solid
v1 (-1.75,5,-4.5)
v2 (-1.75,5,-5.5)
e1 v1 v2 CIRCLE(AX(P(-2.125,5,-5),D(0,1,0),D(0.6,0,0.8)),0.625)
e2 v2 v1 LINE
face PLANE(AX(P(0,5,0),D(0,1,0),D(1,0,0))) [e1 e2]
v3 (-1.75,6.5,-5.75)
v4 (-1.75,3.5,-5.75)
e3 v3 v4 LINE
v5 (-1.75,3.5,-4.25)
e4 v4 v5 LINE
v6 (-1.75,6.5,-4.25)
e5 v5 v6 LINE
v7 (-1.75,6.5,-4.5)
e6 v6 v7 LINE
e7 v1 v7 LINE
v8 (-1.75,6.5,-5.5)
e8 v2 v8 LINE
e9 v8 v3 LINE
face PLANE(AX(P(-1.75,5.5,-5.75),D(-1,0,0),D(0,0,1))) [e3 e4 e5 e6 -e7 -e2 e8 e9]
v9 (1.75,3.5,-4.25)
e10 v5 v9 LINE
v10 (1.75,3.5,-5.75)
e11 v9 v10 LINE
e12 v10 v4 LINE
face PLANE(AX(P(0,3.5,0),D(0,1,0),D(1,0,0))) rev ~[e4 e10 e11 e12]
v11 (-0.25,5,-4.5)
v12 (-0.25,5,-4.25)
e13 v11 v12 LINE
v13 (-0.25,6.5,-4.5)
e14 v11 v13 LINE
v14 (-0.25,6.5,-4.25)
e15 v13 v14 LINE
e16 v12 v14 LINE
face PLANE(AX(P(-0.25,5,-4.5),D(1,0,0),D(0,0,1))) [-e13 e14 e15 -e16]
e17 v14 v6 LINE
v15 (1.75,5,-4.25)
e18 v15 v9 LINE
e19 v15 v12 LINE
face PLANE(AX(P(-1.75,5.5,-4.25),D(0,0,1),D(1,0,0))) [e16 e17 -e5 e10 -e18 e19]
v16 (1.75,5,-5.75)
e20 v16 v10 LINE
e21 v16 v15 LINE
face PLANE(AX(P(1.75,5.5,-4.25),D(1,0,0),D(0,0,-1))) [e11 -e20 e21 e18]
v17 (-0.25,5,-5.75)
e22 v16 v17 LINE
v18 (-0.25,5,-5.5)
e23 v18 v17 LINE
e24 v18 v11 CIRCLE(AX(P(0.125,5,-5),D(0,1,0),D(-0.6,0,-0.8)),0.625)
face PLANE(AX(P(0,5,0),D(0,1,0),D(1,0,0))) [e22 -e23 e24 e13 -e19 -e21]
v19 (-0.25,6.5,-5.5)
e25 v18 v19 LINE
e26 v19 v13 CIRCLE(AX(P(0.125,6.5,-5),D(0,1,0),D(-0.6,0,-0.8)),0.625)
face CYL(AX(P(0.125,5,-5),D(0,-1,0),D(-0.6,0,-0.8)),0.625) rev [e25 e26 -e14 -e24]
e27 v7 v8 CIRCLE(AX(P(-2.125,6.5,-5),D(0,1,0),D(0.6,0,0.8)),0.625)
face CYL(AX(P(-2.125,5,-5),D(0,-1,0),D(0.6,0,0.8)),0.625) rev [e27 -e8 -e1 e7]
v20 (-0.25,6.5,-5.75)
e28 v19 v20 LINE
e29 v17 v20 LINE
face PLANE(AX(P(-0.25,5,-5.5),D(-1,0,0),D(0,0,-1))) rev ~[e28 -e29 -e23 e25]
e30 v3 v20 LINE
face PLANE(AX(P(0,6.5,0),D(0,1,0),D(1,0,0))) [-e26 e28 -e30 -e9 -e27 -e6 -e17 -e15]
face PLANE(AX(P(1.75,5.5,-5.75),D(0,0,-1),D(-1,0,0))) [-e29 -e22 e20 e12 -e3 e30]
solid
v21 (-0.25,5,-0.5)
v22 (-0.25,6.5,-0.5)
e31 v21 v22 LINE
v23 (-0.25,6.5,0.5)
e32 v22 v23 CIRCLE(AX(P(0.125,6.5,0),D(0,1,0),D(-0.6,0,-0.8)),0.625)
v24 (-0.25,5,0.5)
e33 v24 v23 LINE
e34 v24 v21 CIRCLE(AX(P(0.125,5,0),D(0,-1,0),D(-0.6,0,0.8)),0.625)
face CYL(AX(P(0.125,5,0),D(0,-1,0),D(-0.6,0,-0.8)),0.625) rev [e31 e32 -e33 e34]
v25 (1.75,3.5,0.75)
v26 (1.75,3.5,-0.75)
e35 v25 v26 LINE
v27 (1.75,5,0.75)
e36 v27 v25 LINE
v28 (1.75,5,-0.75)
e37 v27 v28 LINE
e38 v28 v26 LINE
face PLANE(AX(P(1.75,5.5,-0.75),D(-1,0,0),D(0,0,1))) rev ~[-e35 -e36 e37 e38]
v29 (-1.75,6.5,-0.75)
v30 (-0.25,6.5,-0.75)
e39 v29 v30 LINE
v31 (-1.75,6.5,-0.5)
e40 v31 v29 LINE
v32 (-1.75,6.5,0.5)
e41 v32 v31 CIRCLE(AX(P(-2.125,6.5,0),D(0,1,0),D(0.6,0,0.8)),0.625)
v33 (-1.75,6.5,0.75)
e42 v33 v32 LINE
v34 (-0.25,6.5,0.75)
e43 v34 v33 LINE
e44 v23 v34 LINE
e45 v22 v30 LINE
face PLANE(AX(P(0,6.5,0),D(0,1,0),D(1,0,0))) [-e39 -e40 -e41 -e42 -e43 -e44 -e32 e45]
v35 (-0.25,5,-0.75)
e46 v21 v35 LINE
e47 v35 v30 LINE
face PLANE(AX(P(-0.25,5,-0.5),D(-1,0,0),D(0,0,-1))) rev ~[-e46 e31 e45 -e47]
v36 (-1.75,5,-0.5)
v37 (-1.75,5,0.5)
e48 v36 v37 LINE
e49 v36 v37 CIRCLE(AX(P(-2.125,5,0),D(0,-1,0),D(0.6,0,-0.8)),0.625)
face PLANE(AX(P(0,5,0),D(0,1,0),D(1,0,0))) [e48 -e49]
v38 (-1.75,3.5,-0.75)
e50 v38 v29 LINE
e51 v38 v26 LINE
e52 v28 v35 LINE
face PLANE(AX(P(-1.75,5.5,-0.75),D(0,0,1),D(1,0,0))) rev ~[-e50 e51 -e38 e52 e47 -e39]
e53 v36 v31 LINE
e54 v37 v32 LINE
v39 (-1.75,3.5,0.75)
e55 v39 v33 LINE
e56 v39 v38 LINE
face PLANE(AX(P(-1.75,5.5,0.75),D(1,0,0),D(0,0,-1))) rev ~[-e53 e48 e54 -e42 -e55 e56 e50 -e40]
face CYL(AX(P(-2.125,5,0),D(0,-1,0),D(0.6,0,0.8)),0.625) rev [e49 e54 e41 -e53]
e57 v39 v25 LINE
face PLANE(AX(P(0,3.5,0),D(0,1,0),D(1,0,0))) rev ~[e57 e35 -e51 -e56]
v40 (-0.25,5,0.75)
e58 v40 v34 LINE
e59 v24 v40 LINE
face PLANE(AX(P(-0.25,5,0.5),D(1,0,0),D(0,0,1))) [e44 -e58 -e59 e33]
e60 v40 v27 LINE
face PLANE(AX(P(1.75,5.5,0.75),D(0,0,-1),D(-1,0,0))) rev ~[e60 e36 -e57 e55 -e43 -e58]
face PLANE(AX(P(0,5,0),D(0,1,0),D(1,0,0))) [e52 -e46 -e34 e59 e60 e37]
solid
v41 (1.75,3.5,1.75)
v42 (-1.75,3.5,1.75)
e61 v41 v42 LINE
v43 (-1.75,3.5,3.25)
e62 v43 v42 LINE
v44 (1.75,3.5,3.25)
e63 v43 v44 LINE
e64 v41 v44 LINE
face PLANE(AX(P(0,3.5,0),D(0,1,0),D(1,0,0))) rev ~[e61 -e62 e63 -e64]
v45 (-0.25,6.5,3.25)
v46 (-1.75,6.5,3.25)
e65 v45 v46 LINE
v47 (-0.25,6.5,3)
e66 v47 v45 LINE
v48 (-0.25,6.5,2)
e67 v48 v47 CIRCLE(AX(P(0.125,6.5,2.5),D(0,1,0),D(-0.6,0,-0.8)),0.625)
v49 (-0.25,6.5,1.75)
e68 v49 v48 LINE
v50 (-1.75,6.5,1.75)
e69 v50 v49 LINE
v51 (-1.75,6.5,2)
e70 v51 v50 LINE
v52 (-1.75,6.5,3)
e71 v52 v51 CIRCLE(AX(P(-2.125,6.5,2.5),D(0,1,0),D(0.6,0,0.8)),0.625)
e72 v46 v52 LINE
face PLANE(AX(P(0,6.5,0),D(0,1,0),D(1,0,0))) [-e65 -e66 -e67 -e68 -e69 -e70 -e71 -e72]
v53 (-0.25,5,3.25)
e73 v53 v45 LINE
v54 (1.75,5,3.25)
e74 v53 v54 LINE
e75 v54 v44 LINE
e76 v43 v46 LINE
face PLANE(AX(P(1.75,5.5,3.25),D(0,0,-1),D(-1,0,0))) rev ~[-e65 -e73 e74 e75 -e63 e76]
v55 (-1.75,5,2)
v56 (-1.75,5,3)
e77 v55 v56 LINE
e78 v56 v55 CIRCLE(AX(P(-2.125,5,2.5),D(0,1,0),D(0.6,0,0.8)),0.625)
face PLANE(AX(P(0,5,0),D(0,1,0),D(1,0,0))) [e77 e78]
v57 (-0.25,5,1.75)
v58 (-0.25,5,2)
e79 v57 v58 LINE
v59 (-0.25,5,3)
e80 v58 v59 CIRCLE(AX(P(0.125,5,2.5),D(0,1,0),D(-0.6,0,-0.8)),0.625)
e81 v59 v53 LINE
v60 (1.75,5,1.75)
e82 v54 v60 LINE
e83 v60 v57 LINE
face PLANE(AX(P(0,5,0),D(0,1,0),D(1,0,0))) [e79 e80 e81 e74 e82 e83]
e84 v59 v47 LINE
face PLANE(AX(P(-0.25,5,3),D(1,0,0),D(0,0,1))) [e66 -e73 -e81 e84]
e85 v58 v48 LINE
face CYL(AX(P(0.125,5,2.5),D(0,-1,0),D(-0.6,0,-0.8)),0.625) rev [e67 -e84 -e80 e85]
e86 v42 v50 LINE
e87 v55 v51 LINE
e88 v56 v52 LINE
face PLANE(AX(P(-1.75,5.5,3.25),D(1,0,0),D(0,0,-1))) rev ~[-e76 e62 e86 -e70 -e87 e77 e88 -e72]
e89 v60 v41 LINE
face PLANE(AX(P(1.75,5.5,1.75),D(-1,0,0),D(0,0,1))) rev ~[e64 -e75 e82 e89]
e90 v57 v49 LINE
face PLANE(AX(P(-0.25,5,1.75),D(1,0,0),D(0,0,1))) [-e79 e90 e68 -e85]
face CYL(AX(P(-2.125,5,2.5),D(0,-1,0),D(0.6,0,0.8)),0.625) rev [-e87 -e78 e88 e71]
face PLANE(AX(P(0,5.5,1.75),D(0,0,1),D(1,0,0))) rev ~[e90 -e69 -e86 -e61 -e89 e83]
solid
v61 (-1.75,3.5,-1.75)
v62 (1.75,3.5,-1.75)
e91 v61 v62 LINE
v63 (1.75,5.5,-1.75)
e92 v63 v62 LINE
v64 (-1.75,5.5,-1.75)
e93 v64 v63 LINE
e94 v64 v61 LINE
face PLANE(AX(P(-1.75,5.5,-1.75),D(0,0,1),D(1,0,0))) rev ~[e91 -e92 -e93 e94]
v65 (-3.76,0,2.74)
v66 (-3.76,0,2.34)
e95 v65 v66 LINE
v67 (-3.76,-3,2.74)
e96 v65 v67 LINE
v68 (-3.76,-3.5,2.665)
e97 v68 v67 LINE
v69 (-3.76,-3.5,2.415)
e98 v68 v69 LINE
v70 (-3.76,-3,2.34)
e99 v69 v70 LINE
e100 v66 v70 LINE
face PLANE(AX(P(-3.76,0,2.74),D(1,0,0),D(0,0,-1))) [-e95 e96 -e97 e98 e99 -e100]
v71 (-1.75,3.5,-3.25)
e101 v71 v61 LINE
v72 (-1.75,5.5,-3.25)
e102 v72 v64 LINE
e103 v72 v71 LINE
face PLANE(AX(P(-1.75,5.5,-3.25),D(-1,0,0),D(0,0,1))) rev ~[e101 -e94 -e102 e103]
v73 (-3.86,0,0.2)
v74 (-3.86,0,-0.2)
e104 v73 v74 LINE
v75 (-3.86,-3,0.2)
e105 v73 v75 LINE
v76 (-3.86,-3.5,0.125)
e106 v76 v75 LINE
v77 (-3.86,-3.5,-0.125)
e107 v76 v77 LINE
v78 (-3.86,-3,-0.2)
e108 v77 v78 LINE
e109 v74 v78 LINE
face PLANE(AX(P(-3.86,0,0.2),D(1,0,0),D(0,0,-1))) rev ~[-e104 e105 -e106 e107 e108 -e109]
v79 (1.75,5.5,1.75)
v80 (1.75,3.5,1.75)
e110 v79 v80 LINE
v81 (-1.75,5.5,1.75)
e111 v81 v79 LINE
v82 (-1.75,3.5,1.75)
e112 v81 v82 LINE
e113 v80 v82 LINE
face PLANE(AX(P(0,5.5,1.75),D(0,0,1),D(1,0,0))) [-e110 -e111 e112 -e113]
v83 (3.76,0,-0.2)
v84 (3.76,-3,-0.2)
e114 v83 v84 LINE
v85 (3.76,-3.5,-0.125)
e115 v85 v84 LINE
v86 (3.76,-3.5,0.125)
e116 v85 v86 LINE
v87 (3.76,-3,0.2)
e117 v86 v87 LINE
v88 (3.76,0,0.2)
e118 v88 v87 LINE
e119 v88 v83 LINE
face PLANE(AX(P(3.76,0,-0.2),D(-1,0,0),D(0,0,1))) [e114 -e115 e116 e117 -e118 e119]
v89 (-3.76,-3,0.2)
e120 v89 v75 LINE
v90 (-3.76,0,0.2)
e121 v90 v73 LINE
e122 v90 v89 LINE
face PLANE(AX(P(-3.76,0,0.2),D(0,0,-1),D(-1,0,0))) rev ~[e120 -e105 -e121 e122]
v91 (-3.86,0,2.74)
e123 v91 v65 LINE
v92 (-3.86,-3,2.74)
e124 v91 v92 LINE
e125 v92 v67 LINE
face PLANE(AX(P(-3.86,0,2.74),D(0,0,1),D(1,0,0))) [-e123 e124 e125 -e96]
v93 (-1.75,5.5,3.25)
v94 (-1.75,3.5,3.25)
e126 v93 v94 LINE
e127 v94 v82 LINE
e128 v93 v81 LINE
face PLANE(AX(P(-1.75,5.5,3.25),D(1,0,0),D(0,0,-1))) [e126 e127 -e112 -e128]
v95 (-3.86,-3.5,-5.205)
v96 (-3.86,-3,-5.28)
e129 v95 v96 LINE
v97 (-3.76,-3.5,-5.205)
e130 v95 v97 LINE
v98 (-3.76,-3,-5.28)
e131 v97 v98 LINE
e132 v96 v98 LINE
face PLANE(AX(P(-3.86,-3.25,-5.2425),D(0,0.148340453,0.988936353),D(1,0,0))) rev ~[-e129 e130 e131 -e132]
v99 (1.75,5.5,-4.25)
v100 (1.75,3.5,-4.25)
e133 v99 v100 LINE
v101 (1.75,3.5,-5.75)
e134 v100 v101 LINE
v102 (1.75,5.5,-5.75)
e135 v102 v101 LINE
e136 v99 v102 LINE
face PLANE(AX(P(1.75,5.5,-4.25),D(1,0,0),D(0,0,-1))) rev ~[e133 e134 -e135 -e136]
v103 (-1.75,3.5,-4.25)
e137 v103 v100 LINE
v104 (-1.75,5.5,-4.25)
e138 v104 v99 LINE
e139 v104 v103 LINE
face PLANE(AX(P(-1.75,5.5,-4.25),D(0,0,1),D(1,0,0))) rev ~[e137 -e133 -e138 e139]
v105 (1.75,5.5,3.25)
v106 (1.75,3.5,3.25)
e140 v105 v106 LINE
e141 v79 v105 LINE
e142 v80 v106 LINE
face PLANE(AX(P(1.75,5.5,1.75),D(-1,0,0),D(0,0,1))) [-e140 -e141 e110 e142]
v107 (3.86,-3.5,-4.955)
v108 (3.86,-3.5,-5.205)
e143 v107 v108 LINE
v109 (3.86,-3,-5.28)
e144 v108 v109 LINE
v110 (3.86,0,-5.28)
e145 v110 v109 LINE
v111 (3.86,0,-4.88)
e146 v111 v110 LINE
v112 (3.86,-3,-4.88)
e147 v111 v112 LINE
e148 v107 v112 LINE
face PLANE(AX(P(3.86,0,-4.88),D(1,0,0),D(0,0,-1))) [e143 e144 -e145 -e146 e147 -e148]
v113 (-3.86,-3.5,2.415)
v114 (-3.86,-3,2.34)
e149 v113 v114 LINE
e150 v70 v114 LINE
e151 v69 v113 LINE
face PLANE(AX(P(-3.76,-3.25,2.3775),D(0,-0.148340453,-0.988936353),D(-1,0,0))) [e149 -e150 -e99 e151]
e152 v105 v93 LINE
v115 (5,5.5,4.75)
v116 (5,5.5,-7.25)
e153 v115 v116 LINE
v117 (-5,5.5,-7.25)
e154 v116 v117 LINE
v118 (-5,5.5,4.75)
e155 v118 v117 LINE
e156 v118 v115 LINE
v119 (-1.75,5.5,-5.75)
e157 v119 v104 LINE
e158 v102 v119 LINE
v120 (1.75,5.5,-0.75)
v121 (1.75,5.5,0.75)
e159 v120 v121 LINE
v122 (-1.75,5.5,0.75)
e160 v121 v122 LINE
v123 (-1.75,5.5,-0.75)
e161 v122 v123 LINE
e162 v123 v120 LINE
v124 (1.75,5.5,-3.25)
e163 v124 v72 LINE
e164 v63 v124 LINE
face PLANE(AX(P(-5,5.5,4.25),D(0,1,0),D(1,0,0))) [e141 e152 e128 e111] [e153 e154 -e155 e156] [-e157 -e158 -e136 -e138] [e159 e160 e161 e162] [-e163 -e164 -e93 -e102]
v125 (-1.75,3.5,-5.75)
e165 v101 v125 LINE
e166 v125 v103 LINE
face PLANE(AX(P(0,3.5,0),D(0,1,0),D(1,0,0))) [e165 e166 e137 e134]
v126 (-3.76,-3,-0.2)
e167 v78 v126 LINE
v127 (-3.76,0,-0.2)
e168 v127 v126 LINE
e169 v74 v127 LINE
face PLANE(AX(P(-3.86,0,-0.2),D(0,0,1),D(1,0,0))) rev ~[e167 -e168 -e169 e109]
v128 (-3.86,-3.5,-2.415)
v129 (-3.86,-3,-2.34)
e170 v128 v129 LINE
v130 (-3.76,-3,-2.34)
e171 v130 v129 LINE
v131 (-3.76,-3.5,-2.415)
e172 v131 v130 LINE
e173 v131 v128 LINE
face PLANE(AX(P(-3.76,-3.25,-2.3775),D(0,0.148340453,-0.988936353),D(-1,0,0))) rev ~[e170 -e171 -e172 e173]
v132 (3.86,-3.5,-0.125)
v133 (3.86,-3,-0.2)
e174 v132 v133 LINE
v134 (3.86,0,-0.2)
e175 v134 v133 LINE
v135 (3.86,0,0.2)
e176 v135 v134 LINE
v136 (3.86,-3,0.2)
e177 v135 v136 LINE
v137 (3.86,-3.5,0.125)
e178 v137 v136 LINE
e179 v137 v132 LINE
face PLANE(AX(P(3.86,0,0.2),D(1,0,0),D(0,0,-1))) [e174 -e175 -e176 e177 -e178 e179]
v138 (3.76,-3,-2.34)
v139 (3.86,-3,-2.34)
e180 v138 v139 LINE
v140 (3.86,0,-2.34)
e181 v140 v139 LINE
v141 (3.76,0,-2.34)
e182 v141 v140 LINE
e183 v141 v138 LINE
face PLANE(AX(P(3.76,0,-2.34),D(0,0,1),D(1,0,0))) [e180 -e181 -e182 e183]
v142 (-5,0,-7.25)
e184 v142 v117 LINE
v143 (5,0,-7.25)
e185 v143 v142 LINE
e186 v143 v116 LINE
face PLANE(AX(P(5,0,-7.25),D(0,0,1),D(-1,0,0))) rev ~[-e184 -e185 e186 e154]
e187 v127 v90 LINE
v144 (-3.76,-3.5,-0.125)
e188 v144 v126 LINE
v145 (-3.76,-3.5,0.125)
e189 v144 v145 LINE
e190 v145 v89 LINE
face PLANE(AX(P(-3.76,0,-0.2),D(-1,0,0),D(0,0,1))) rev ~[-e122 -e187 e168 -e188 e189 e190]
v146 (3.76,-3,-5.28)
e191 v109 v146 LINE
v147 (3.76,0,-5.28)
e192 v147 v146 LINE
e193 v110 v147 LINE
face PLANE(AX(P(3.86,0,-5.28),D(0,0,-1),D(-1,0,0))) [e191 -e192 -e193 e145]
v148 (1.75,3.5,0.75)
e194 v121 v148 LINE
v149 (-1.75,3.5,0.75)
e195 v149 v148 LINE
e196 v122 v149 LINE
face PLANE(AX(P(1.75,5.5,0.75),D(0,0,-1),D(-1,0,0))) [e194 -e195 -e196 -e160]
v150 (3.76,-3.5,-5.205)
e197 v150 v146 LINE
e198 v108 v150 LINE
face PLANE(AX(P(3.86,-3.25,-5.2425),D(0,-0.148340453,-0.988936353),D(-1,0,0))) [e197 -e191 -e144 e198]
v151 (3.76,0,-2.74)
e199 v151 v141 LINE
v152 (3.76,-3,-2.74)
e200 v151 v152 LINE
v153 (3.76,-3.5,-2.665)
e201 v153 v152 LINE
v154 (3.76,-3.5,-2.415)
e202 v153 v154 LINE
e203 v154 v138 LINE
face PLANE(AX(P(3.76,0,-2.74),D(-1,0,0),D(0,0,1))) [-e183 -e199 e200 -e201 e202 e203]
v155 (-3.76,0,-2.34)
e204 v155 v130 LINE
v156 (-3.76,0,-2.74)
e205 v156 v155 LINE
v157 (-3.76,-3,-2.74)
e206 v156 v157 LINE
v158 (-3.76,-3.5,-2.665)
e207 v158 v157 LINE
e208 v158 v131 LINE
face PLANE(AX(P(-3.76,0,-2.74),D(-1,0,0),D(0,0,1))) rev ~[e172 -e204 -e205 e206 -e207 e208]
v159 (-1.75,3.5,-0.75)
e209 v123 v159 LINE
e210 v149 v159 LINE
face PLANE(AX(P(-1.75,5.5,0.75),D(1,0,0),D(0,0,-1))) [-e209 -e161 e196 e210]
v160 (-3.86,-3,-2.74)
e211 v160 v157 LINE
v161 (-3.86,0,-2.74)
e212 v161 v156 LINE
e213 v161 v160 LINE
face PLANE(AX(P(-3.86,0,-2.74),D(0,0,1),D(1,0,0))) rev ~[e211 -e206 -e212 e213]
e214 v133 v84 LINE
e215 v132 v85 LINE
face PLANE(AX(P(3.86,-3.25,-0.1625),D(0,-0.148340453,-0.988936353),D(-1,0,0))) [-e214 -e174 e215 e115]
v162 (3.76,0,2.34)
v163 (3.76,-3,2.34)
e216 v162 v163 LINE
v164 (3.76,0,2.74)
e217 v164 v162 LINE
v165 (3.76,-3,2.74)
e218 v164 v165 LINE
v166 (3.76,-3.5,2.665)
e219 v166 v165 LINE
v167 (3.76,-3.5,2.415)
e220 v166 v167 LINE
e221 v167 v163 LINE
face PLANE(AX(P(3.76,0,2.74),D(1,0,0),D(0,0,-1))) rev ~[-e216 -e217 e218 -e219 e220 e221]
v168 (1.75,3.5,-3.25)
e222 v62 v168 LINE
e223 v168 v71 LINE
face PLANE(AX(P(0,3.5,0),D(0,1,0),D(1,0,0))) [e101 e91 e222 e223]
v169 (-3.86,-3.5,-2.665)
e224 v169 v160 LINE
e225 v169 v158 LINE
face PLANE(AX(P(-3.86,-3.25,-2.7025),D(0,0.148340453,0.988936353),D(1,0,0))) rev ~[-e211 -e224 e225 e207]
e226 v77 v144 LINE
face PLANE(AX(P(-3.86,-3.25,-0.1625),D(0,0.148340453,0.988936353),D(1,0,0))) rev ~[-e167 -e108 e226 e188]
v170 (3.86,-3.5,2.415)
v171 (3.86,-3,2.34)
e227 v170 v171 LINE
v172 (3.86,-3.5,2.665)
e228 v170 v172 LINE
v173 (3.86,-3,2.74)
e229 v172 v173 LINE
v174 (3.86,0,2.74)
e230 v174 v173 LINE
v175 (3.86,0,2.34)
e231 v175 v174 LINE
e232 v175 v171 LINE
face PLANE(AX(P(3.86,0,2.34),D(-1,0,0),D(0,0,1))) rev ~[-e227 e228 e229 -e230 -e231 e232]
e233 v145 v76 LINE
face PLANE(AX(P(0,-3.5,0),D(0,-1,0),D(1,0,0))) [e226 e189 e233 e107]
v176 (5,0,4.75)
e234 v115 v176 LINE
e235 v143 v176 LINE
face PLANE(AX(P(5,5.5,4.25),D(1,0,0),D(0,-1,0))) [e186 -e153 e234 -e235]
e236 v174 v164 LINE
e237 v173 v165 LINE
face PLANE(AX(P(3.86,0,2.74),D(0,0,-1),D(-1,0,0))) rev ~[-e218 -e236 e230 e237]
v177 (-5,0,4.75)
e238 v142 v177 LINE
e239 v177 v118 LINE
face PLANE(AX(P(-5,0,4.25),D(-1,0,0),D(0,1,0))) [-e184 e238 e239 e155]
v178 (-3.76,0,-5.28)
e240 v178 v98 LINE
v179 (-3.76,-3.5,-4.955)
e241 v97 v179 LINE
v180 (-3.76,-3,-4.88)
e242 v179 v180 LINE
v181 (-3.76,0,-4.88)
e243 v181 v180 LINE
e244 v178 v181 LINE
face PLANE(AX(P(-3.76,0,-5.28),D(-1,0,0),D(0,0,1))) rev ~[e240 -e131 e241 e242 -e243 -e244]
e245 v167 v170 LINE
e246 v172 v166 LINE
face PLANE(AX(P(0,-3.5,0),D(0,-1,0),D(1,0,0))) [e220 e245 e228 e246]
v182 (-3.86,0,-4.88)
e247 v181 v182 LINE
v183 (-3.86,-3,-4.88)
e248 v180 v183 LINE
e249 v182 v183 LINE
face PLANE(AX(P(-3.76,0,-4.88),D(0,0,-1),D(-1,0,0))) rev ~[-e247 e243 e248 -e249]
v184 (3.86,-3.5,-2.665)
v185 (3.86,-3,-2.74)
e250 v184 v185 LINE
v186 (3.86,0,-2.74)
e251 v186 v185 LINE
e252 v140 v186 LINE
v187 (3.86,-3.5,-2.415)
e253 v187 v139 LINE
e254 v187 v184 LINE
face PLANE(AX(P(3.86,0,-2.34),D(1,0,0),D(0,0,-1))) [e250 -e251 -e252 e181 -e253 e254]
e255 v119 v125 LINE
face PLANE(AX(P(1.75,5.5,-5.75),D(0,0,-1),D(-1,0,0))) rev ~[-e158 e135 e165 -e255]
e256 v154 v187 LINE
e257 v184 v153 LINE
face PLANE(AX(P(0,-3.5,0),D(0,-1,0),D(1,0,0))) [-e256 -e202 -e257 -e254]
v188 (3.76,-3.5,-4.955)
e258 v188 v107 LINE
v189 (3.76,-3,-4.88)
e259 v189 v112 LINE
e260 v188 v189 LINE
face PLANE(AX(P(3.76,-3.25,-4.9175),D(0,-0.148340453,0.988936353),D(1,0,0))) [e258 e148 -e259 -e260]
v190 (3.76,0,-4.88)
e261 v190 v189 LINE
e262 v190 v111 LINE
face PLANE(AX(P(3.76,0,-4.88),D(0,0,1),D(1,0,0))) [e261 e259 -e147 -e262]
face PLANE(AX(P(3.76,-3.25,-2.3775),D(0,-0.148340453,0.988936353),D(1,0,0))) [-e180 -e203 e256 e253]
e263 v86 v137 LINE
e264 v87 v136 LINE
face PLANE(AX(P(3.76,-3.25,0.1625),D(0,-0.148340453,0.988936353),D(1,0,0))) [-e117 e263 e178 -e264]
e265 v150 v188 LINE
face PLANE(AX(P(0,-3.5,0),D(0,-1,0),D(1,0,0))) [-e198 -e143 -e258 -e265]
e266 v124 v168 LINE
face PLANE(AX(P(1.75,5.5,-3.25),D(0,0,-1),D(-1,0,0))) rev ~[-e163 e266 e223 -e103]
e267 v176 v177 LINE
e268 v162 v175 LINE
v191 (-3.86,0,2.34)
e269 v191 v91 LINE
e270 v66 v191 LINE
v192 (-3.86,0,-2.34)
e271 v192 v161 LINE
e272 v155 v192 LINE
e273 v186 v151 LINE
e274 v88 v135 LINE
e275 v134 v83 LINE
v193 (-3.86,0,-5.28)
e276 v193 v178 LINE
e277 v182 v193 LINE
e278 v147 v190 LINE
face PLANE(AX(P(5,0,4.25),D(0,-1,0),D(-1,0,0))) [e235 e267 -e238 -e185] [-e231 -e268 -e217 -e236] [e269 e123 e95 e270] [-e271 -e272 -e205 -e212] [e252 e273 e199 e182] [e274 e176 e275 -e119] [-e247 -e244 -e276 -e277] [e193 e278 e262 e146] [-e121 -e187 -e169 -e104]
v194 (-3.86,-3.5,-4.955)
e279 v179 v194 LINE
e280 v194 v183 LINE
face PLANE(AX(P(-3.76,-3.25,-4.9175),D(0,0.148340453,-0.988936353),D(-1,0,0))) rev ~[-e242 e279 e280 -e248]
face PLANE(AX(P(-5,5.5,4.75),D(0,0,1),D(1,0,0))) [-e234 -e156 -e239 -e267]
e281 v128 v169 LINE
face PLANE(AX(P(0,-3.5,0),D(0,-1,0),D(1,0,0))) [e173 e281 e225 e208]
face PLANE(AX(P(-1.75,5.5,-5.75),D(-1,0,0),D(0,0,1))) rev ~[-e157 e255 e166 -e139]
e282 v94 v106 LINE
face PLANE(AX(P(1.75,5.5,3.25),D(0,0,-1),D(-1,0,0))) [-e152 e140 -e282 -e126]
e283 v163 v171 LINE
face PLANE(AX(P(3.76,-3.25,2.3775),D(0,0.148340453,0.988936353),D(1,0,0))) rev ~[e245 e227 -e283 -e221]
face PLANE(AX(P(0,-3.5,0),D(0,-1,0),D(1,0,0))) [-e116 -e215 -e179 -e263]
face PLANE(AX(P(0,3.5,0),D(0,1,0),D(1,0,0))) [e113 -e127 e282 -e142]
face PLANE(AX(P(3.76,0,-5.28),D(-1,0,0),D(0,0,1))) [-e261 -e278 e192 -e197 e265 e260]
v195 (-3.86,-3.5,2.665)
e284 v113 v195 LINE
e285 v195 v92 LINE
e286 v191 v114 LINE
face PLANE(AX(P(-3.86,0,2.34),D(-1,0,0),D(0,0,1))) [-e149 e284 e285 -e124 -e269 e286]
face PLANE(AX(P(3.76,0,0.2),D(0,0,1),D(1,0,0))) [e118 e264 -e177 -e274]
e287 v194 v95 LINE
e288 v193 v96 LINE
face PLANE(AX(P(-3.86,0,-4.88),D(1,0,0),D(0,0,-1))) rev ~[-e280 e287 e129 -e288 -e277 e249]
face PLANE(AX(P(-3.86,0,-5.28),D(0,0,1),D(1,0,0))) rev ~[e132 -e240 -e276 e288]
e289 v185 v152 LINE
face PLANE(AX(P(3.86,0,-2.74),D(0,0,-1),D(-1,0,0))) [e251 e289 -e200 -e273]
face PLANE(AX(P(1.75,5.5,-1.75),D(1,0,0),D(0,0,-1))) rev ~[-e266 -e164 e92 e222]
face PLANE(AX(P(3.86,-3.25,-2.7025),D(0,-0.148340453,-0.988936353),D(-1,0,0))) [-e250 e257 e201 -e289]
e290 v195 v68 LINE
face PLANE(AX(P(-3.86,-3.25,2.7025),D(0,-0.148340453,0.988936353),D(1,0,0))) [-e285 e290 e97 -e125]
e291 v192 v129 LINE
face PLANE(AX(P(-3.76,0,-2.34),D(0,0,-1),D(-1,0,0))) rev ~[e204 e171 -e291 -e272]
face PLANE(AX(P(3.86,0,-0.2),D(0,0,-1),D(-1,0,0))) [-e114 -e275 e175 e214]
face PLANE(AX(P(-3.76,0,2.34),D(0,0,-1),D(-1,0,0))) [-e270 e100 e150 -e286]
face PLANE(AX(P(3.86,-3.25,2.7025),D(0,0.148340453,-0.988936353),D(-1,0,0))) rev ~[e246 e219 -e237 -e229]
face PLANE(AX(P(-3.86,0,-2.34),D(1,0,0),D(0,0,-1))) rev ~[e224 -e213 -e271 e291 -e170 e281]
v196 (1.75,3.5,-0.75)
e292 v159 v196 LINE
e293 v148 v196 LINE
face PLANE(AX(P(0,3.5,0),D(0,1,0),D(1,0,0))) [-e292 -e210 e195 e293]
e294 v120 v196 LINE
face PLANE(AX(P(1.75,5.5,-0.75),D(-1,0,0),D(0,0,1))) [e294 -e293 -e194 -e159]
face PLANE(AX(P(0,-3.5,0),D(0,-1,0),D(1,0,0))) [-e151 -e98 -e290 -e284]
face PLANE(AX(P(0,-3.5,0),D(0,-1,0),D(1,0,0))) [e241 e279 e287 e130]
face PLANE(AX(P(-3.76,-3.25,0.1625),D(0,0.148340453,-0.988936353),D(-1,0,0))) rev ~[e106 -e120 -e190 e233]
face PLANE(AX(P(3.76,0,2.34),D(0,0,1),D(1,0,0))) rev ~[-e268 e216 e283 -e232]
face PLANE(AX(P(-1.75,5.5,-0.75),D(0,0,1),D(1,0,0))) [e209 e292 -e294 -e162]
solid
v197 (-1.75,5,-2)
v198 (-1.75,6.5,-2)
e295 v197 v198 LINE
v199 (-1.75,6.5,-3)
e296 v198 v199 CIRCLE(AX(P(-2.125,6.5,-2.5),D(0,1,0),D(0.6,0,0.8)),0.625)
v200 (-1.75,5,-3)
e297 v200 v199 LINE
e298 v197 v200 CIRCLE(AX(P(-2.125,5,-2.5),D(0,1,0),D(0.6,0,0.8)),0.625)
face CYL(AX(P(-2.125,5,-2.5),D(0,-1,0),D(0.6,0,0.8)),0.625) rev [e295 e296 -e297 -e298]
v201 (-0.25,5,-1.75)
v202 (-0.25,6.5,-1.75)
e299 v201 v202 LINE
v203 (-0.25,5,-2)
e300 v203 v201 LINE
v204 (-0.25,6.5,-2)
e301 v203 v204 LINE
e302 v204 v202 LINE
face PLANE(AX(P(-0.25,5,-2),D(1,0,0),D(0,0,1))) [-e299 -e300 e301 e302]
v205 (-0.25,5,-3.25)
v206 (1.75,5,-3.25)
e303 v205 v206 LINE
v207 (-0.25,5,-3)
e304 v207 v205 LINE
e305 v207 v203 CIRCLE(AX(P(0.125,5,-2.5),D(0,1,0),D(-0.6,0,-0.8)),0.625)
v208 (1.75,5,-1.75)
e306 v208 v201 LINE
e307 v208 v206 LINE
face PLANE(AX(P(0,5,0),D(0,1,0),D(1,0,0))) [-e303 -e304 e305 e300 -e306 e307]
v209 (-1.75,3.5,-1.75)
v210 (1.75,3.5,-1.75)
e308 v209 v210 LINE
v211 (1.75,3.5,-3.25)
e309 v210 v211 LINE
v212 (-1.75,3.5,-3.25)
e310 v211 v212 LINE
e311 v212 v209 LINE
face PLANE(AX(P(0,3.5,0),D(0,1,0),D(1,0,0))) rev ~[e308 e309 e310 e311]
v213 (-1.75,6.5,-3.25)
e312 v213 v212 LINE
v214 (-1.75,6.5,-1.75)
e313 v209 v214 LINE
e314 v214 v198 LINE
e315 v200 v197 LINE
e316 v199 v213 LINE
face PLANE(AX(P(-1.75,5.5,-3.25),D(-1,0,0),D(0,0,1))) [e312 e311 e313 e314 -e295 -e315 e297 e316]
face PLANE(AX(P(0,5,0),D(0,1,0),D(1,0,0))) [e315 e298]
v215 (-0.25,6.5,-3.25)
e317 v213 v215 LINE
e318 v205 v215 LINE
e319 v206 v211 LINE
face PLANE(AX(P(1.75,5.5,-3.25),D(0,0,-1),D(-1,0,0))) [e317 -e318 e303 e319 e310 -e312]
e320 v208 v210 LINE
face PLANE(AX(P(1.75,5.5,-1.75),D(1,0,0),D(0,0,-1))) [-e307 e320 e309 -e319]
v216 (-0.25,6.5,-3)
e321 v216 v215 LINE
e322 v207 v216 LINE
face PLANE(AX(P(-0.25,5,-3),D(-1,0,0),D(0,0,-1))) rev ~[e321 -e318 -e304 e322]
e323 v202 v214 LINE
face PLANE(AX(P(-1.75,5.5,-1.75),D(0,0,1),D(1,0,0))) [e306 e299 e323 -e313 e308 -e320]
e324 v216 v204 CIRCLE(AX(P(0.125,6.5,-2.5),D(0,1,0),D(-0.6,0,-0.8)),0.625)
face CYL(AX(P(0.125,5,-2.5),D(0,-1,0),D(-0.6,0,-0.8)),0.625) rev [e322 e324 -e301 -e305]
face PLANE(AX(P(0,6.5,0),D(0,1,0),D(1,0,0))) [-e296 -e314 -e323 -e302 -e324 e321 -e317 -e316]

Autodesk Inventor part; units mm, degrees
ref_plane "YZ Plane" through (0, 0, 0) normal (1, 0, 0) x (0, 1, 0)
ref_plane "XZ Plane" through (0, 0, 0) normal (0, 1, 0) x (-1, 0, 0)
ref_plane "XY Plane" through (0, 0, 0) normal (0, 0, 1) x (1, 0, 0)
sketch "Sketch1" plane through (0, 0, 0) normal (0, 1, 0) x (-1, 0, 0)
  line L0 (5, 7.25) -> (-5, 7.25)
  line L1 (-5, 7.25) -> (-5, -7.25)
  line L2 (-5, -7.25) -> (5, -7.25)
  line L3 (5, -7.25) -> (5, 7.25)
  line L4 (5, 7.25) -> (-5, -7.25) construction
  line L5 (-5, 7.25) -> (5, -7.25) construction
  point P0 (0, 0)
  dimension "d0" = 10
  dimension "d1" = 14.5
extrude "Extrusion1" add sketch "Sketch1" along normal blind 5.5
sketch "Sketch2" plane through (0, 5.5, 0) normal (0, 1, 0) x (1, 0, 0)
  line L0 (-1.75, 0.75) -> (1.75, 0.75)
  line L1 (1.75, 0.75) -> (1.75, -0.75)
  line L2 (1.75, -0.75) -> (-1.75, -0.75)
  line L3 (-1.75, -0.75) -> (-1.75, 0.75)
  line L4 (-1.75, 0.75) -> (1.75, -0.75) construction
  line L5 (1.75, 0.75) -> (-1.75, -0.75) construction
  line L6 (0, -0.75) -> (0, -1.75)
  line L7 (0, -1.75) -> (0, -2.5)
  line L8 (-1.75, -1.75) -> (1.75, -1.75)
  line L9 (1.75, -1.75) -> (1.75, -3.25)
  line L10 (1.75, -3.25) -> (-1.75, -3.25)
  line L11 (-1.75, -3.25) -> (-1.75, -1.75)
  line L12 (-1.75, -1.75) -> (1.75, -3.25) construction
  line L13 (1.75, -1.75) -> (-1.75, -3.25) construction
  line L14 (0, -3.25) -> (0, -5)
  line L15 (-1.75, -4.25) -> (1.75, -4.25)
  line L16 (1.75, -4.25) -> (1.75, -5.75)
  line L17 (1.75, -5.75) -> (-1.75, -5.75)
  line L18 (-1.75, -5.75) -> (-1.75, -4.25)
  line L19 (-1.75, -4.25) -> (1.75, -5.75) construction
  line L20 (1.75, -4.25) -> (-1.75, -5.75) construction
  line L21 (0, 0) -> (3.2691, 0)
  line L22 (-1.75, 1.75) -> (1.75, 1.75)
  line L23 (1.75, 1.75) -> (1.75, 3.25)
  line L24 (1.75, 3.25) -> (-1.75, 3.25)
  line L25 (-1.75, 3.25) -> (-1.75, 1.75)
  line L26 (-1.75, 4.25) -> (1.75, 4.25)
  line L27 (1.75, 4.25) -> (1.75, 5.75)
  line L28 (1.75, 5.75) -> (-1.75, 5.75)
  line L29 (-1.75, 5.75) -> (-1.75, 4.25)
  dimension "d4" = 3.5
  dimension "d5" = 1.5
  dimension "d6" = 1
  dimension "d7" = 0.75
  dimension "d8" = 3.5
  dimension "d9" = 1.5
  dimension "d10" = 1.75
  dimension "d11" = 3.5
  dimension "d12" = 1.5
extrude "Extrusion2" cut sketch "Sketch2" against normal blind 2
extrude "Extrusion3" add sketch "Sketch2" against normal blind 2 separate body
sketch "Sketch3" plane through (0, 5.5, 0) normal (0, 1, 0) x (1, 0, 0)
  line L0 (1.75, 5.75) -> (1.75, 4.25) projected
  line L1 (1.75, -5.75) -> (-1.75, -5.75) projected
  line L2 (1.75, 5.75) -> (-1.75, 5.75)
  line L3 (-1.75, 5.75) -> (-1.75, -5.75)
  line L4 (-1.75, -5.75) -> (1.75, -5.75)
  line L5 (1.75, -5.75) -> (1.75, 5.75)
  point P0 (0, 0)
extrude "Extrusion4" cut sketch "Sketch3" against normal blind 0.5 bodies 2
sketch "Sketch4" plane through (0, 5, 0) normal (0, 1, 0) x (1, 0, 0)
  line L0 (-1.75, 5.75) -> (1.75, 5.75) projected
  line L1 (1.75, 4.25) -> (-1.75, 4.25) projected
  line L2 (-1.75, 5.75) -> (-0.25, 5.75)
  line L3 (-0.25, 4.25) -> (-1.75, 4.25)
  line L4 (1.75, 1.75) -> (-1.75, 1.75) projected
  line L5 (-1.75, 3.25) -> (-0.25, 3.25)
  line L6 (-0.25, 1.75) -> (-1.75, 1.75)
  line L7 (-1.75, 0.75) -> (1.75, 0.75) projected
  line L8 (1.75, -0.75) -> (-1.75, -0.75) projected
  line L9 (-1.75, 0.75) -> (-0.25, 0.75)
  line L10 (-0.25, -0.75) -> (-1.75, -0.75)
  line L11 (-1.75, -0.75) -> (-1.75, 0.75)
  line L12 (-1.75, -1.75) -> (1.75, -1.75) projected
  line L13 (1.75, -3.25) -> (-1.75, -3.25) projected
  line L14 (-1.75, -1.75) -> (-0.25, -1.75)
  line L15 (-0.25, -1.75) -> (-0.25, -3.25)
  line L16 (-0.25, -3.25) -> (-1.75, -3.25)
  line L17 (-1.75, -3.25) -> (-1.75, -1.75)
  line L18 (-1.75, -4.25) -> (1.75, -4.25) projected
  line L19 (1.75, -5.75) -> (-1.75, -5.75) projected
  line L20 (-1.75, -4.25) -> (-0.25, -4.25)
  line L21 (-0.25, -4.25) -> (-0.25, -5.75)
  line L22 (-0.25, -5.75) -> (-1.75, -5.75)
  line L23 (-1.75, -5.75) -> (-1.75, -4.25)
  line L24 (-1.75, 0) -> (-1.5, 0)
  line L25 (-0.25, 0) -> (-0.5, 0)
  line L26 (-1, 5.75) -> (-1, 5.5)
  line L27 (-1, 4.25) -> (-1, 4.5)
  line L28 (-1.75, 4.25) -> (-1.75, 5.75) projected
  arc A0 (-1.75, 4.5) -> (-1.75, 5.5) centre (-2.125, 5) ccw
  line L29 (-1, 1.75) -> (-1, 2)
  line L30 (-1.75, 3.25) -> (1.75, 3.25) projected
  line L31 (-1, 3.25) -> (-1, 3)
  line L32 (-1.75, 1.75) -> (-1.75, 3.25) projected
  line L33 (-1.75, 3) -> (-1.75, 2)
  arc A1 (-1.75, 2) -> (-1.75, 3) centre (-2.125, 2.5) ccw
  line L34 (-1, 0.75) -> (-1, 0.5)
  line L35 (-1, -0.75) -> (-1, -0.5)
  arc A2 (-1.75, -0.5) -> (-1.75, 0.5) centre (-2.125, 0) ccw
  arc A3 (-0.25, 5.5) -> (-0.25, 4.5) centre (0.125, 5) ccw
  arc A4 (-0.25, 3) -> (-0.25, 2) centre (0.125, 2.5) ccw
  arc A5 (-0.25, 0.5) -> (-0.25, -0.5) centre (0.125, 0) ccw
  line L36 (-1.2232, 0) -> (-0.6567, 0)
  arc A6 (-1.75, -5.5) -> (-1.75, -4.5) centre (-2.125, -5) ccw
  arc A7 (-1.75, -3) -> (-1.75, -2) centre (-2.125, -2.5) ccw
  arc A8 (-1.75, -0.5) -> (-1.75, 0.5) centre (-2.125, 0) ccw
  arc A9 (-0.25, -4.5) -> (-0.25, -5.5) centre (0.125, -5) ccw
  arc A10 (-0.25, -2) -> (-0.25, -3) centre (0.125, -2.5) ccw
  line L37 (-0.25, 5.5) -> (-0.25, 5.75)
  line L38 (-0.25, 5.75) -> (-1.75, 5.75)
  line L39 (-1.75, 5.5) -> (-1.75, 5.75)
  line L40 (-0.25, 4.5) -> (-0.25, 4.25)
  line L41 (-1.75, 4.25) -> (-0.25, 4.25)
  line L42 (-1.75, 4.25) -> (-1.75, 4.5)
  line L43 (-0.25, 3) -> (-0.25, 3.25)
  line L44 (-0.25, 3.25) -> (-1.75, 3.25)
  line L45 (-1.75, 3.25) -> (-1.75, 3)
  line L46 (-1.75, 2) -> (-1.75, 1.75)
  line L47 (-1.75, 1.75) -> (-0.25, 1.75)
  line L48 (-0.25, 2) -> (-0.25, 1.75)
  line L49 (-0.25, 1.75) -> (-1.75, 1.75)
  line L50 (-0.25, 0.5) -> (-0.25, 0.75)
  line L51 (-0.25, 0.75) -> (-1.75, 0.75)
  line L52 (-1.75, 0.75) -> (-1.75, 0.5)
  line L53 (-1.75, -5.75) -> (1.75, -5.75)
  line L54 (1.75, -4.25) -> (-1.75, -4.25)
  line L55 (-1.75, -3.25) -> (-0.25, -3.25)
  line L56 (-0.25, -1.75) -> (-1.75, -1.75)
  line L57 (-1.75, -0.75) -> (-0.25, -0.75)
  line L58 (-1.75, 0.75) -> (-1.75, -0.75)
  line L59 (-1.75, -4.25) -> (-1.75, -5.75)
  line L60 (-1.75, -1.75) -> (-1.75, -3.25)
  line L61 (-0.25, -5.5) -> (-0.25, -5.75)
  line L62 (-0.25, -4.5) -> (-0.25, -4.25)
  line L63 (-1.75, -4.25) -> (-1.75, -4.5)
  line L64 (-0.25, -3) -> (-0.25, -3.25)
  line L65 (-1.75, -3.25) -> (-1.75, -3)
  line L66 (-0.25, -2) -> (-0.25, -1.75)
  line L67 (-0.25, -0.5) -> (-0.25, -0.75)
  point P0 (0, 0)
  point P1 (-0.25, -5.5)
  point P2 (-1.75, -2)
  point P3 (-0.25, -3)
  point P4 (-0.25, -2)
  point P5 (-1.75, 0.5)
  dimension "d20" = 0.25
  dimension "d21" = 0.25
  dimension "d22" = 0.25
  dimension "d23" = 0.25
  dimension "d24" = 0.25
  dimension "d25" = 0.25
  dimension "d26" = 0.25
  dimension "d27" = 0.25
extrude "Extrusion5" add sketch "Sketch4" along normal blind 1.5 contours L0 L37 A3 L40 L1 L28 A0 | L4 L32 A1 L5 L43 A4 L48 | L7 L50 A5 L67 L8 L11 A2 | L12 L15 A10 L13 L17 A7 | L18 L21 A9 L19 L23 A6 bodies 2
sketch "Sketch5" plane through (0, 0, 0) normal (0, -1, 0) x (1, 0, 0)
  line L0 (0, 0) -> (1.27, 0)
  line L1 (1.27, 0) -> (3.81, 0)
  line L2 (0, 0) -> (0, -1.4789)
  line L3 (3.76, 0.2) -> (3.86, 0.2)
  line L4 (3.86, 0.2) -> (3.86, -0.2)
  line L5 (3.86, -0.2) -> (3.76, -0.2)
  line L6 (3.76, -0.2) -> (3.76, 0.2)
  line L7 (3.76, 0.2) -> (3.86, -0.2) construction
  line L8 (3.86, 0.2) -> (3.76, -0.2) construction
  line L9 (3.76, -2.34) -> (3.86, -2.34)
  line L10 (3.86, -2.34) -> (3.86, -2.74)
  line L11 (3.86, -2.74) -> (3.76, -2.74)
  line L12 (3.76, -2.74) -> (3.76, -2.34)
  line L13 (3.76, -2.34) -> (3.86, -2.74) construction
  line L14 (3.86, -2.34) -> (3.76, -2.74) construction
  line L15 (3.76, -4.88) -> (3.86, -4.88)
  line L16 (3.86, -4.88) -> (3.86, -5.28)
  line L17 (3.86, -5.28) -> (3.76, -5.28)
  line L18 (3.76, -5.28) -> (3.76, -4.88)
  line L19 (3.76, -4.88) -> (3.86, -5.28) construction
  line L20 (3.86, -4.88) -> (3.76, -5.28) construction
  line L21 (3.76, -0.2) -> (3.86, -0.2)
  line L22 (3.86, -0.2) -> (3.86, 0.2)
  line L23 (3.86, 0.2) -> (3.76, 0.2)
  line L24 (3.76, 0.2) -> (3.76, -0.2)
  line L25 (3.76, 2.34) -> (3.86, 2.34)
  line L26 (3.86, 2.34) -> (3.86, 2.74)
  line L27 (3.86, 2.74) -> (3.76, 2.74)
  line L28 (3.76, 2.74) -> (3.76, 2.34)
  line L29 (3.76, 4.88) -> (3.86, 4.88)
  line L30 (3.86, 4.88) -> (3.86, 5.28)
  line L31 (3.86, 5.28) -> (3.76, 5.28)
  line L32 (3.76, 5.28) -> (3.76, 4.88)
  line L33 (-3.76, 0.2) -> (-3.86, 0.2)
  line L34 (-3.86, 0.2) -> (-3.86, -0.2)
  line L35 (-3.86, -0.2) -> (-3.76, -0.2)
  line L36 (-3.76, -0.2) -> (-3.76, 0.2)
  line L37 (-3.76, -2.34) -> (-3.86, -2.34)
  line L38 (-3.86, -2.34) -> (-3.86, -2.74)
  line L39 (-3.86, -2.74) -> (-3.76, -2.74)
  line L40 (-3.76, -2.74) -> (-3.76, -2.34)
  line L41 (-3.76, -4.88) -> (-3.86, -4.88)
  line L42 (-3.86, -4.88) -> (-3.86, -5.28)
  line L43 (-3.86, -5.28) -> (-3.76, -5.28)
  line L44 (-3.76, -5.28) -> (-3.76, -4.88)
  line L45 (-3.76, 2.34) -> (-3.86, 2.34)
  line L46 (-3.86, 2.34) -> (-3.86, 2.74)
  line L47 (-3.86, 2.74) -> (-3.76, 2.74)
  line L48 (-3.76, 2.74) -> (-3.76, 2.34)
  line L49 (-3.76, 4.88) -> (-3.86, 4.88)
  line L50 (-3.86, 4.88) -> (-3.86, 5.28)
  line L51 (-3.86, 5.28) -> (-3.76, 5.28)
  line L52 (-3.76, 5.28) -> (-3.76, 4.88)
  dimension "d30" = 1.27
  dimension "d31" = 2.54
  dimension "d34" = 0.1
  dimension "d35" = 0.4
  dimension "d36" = 0.1
  dimension "d37" = 0.4
  dimension "d38" = 0.1
  dimension "d39" = 0.4
extrude "Extrusion6" add sketch "Sketch5" along normal blind 3.5 bodies 1
chamfer "Chamfer1" distance 0.075 distance2 0.5 1 edges at (-3.81, -3.5, -5.28) measured on face at (-3.8267, -3.5, -5.0133)
chamfer "Chamfer2" distance 0.075 distance2 0.5 1 edges at (-3.81, -3.5, -2.74) measured on face at (-3.8267, -3.5, -2.4733)
chamfer "Chamfer3" distance 0.075 distance2 0.5 1 edges at (-3.81, -3.5, -0.2) measured on face at (-3.7933, -3.5, -0.0667)
chamfer "Chamfer4" distance 0.075 distance2 0.5 1 edges at (-3.81, -3.5, 2.34) measured on face at (-3.7933, -3.5, 2.4733)
chamfer "Chamfer5" distance 0.075 distance2 0.5 1 edges at (-3.81, -3.5, 4.88) measured on face at (-3.8267, -3.5, 5.1467)
chamfer "Chamfer6" distance 0.075 distance2 0.5 1 edges at (-3.81, -3.5, -4.88) measured on face at (-3.8267, -3.5, -4.9883)
chamfer "Chamfer7" distance 0.075 distance2 0.5 1 edges at (-3.81, -3.5, -2.34) measured on face at (-3.8267, -3.5, -2.4483)
chamfer "Chamfer8" distance 0.075 distance2 0.5 1 edges at (-3.81, -3.5, 0.2) measured on face at (-3.8267, -3.5, 0.0917)
chamfer "Chamfer9" distance 0.075 distance2 0.5 1 edges at (-3.81, -3.5, 2.74) measured on face at (-3.8267, -3.5, 2.6317)
chamfer "Chamfer10" distance 0.075 distance2 0.5 1 edges at (-3.81, -3.5, 5.28) measured on face at (-3.8267, -3.5, 5.1717)
chamfer "Chamfer11" distance 0.075 distance2 0.5 1 edges at (3.81, -3.5, -5.28) measured on face at (3.8267, -3.5, -5.1467)
chamfer "Chamfer12" distance 0.075 distance2 0.5 1 edges at (3.81, -3.5, -2.74) measured on face at (3.8267, -3.5, -2.6067)
chamfer "Chamfer13" distance 0.075 distance2 0.5 1 edges at (3.81, -3.5, -0.2) measured on face at (3.7933, -3.5, 0.0667)
chamfer "Chamfer14" distance 0.075 distance2 0.5 1 edges at (3.81, -3.5, 2.34) measured on face at (3.7933, -3.5, 2.6067)
chamfer "Chamfer15" distance 0.075 distance2 0.5 1 edges at (3.81, -3.5, 4.88) measured on face at (3.7933, -3.5, 5.1467)
chamfer "Chamfer16" distance 0.075 distance2 0.5 1 edges at (3.81, -3.5, 5.28) measured on face at (3.7933, -3.5, 5.1717)
chamfer "Chamfer17" distance 0.075 distance2 0.5 1 edges at (3.81, -3.5, 2.74) measured on face at (3.7933, -3.5, 2.6317)
chamfer "Chamfer18" distance 0.075 distance2 0.5 1 edges at (3.81, -3.5, 0.2) measured on face at (3.7933, -3.5, 0.0917)
chamfer "Chamfer19" distance 0.075 distance2 0.5 1 edges at (3.81, -3.5, -2.34) measured on face at (3.7933, -3.5, -2.4483)
chamfer "Chamfer20" distance 0.075 distance2 0.5 1 edges at (3.81, -3.5, -4.88) measured on face at (3.7933, -3.5, -5.0967)
sketch "Sketch7" plane through (-5, 0, 7.25) normal (0, 0, 1) x (1, 0, 0)
  line L0 (-4.1539, 9.366) -> (15.3013, 9.366)
  line L1 (15.3013, 9.366) -> (15.3013, -3.0804)
  line L2 (15.3013, -3.0804) -> (-4.1539, -3.0804)
  line L3 (-4.1539, -3.0804) -> (-4.1539, 9.366)
  point P0 (5, 0)
extrude "Extrusion7" cut sketch "Sketch7" against normal blind 3 bodies 1
sketch "Sketch8" plane through (-1.75, 3.5, 5.75) normal (0, 0, 1) x (1, 0, 0)
  line L0 (-1.9166, 4.2696) -> (5.7159, 4.2696)
  line L1 (5.7159, 4.2696) -> (5.7159, -0.8935)
  line L2 (5.7159, -0.8935) -> (-1.9166, -0.8935)
  line L3 (-1.9166, -0.8935) -> (-1.9166, 4.2696)
  point P0 (1.75, -3.5)
extrude "Extrusion8" cut sketch "Sketch8" against normal blind 1.5 bodies 2
sketch "Sketch9" plane through (-5, 5.5, 4.25) normal (0, 0, 1) x (1, 0, 0)
  line L0 (0, -5.5) -> (0, 0) projected
  line L1 (10, 0) -> (10, -5.5) projected
  line L2 (0, 0) -> (10, 0)
  line L3 (10, 0) -> (10, -5.5)
  line L4 (10, -5.5) -> (0, -5.5)
  line L5 (0, -5.5) -> (0, 0)
  point P0 (5, -5.5)
extrude "Extrusion9" add sketch "Sketch9" along normal blind 0.5 bodies 1
sketch "Sketch10" plane through (-3.86, -3.5, 4.955) normal (-1, 0, 0) x (0, 0, 1)
  line L0 (-0.4903, 1.093) -> (1.3305, 1.093)
  line L1 (1.3305, 1.093) -> (1.3305, -0.5781)
  line L2 (1.3305, -0.5781) -> (-0.4903, -0.5781)
  line L3 (-0.4903, -0.5781) -> (-0.4903, 1.093)
  point P0 (-4.955, 3.5)
extrude "Extrusion10" cut sketch "Sketch10" against normal blind 10 bodies 1
properties part number "Dip_switch_4" material "Polypropylene"
